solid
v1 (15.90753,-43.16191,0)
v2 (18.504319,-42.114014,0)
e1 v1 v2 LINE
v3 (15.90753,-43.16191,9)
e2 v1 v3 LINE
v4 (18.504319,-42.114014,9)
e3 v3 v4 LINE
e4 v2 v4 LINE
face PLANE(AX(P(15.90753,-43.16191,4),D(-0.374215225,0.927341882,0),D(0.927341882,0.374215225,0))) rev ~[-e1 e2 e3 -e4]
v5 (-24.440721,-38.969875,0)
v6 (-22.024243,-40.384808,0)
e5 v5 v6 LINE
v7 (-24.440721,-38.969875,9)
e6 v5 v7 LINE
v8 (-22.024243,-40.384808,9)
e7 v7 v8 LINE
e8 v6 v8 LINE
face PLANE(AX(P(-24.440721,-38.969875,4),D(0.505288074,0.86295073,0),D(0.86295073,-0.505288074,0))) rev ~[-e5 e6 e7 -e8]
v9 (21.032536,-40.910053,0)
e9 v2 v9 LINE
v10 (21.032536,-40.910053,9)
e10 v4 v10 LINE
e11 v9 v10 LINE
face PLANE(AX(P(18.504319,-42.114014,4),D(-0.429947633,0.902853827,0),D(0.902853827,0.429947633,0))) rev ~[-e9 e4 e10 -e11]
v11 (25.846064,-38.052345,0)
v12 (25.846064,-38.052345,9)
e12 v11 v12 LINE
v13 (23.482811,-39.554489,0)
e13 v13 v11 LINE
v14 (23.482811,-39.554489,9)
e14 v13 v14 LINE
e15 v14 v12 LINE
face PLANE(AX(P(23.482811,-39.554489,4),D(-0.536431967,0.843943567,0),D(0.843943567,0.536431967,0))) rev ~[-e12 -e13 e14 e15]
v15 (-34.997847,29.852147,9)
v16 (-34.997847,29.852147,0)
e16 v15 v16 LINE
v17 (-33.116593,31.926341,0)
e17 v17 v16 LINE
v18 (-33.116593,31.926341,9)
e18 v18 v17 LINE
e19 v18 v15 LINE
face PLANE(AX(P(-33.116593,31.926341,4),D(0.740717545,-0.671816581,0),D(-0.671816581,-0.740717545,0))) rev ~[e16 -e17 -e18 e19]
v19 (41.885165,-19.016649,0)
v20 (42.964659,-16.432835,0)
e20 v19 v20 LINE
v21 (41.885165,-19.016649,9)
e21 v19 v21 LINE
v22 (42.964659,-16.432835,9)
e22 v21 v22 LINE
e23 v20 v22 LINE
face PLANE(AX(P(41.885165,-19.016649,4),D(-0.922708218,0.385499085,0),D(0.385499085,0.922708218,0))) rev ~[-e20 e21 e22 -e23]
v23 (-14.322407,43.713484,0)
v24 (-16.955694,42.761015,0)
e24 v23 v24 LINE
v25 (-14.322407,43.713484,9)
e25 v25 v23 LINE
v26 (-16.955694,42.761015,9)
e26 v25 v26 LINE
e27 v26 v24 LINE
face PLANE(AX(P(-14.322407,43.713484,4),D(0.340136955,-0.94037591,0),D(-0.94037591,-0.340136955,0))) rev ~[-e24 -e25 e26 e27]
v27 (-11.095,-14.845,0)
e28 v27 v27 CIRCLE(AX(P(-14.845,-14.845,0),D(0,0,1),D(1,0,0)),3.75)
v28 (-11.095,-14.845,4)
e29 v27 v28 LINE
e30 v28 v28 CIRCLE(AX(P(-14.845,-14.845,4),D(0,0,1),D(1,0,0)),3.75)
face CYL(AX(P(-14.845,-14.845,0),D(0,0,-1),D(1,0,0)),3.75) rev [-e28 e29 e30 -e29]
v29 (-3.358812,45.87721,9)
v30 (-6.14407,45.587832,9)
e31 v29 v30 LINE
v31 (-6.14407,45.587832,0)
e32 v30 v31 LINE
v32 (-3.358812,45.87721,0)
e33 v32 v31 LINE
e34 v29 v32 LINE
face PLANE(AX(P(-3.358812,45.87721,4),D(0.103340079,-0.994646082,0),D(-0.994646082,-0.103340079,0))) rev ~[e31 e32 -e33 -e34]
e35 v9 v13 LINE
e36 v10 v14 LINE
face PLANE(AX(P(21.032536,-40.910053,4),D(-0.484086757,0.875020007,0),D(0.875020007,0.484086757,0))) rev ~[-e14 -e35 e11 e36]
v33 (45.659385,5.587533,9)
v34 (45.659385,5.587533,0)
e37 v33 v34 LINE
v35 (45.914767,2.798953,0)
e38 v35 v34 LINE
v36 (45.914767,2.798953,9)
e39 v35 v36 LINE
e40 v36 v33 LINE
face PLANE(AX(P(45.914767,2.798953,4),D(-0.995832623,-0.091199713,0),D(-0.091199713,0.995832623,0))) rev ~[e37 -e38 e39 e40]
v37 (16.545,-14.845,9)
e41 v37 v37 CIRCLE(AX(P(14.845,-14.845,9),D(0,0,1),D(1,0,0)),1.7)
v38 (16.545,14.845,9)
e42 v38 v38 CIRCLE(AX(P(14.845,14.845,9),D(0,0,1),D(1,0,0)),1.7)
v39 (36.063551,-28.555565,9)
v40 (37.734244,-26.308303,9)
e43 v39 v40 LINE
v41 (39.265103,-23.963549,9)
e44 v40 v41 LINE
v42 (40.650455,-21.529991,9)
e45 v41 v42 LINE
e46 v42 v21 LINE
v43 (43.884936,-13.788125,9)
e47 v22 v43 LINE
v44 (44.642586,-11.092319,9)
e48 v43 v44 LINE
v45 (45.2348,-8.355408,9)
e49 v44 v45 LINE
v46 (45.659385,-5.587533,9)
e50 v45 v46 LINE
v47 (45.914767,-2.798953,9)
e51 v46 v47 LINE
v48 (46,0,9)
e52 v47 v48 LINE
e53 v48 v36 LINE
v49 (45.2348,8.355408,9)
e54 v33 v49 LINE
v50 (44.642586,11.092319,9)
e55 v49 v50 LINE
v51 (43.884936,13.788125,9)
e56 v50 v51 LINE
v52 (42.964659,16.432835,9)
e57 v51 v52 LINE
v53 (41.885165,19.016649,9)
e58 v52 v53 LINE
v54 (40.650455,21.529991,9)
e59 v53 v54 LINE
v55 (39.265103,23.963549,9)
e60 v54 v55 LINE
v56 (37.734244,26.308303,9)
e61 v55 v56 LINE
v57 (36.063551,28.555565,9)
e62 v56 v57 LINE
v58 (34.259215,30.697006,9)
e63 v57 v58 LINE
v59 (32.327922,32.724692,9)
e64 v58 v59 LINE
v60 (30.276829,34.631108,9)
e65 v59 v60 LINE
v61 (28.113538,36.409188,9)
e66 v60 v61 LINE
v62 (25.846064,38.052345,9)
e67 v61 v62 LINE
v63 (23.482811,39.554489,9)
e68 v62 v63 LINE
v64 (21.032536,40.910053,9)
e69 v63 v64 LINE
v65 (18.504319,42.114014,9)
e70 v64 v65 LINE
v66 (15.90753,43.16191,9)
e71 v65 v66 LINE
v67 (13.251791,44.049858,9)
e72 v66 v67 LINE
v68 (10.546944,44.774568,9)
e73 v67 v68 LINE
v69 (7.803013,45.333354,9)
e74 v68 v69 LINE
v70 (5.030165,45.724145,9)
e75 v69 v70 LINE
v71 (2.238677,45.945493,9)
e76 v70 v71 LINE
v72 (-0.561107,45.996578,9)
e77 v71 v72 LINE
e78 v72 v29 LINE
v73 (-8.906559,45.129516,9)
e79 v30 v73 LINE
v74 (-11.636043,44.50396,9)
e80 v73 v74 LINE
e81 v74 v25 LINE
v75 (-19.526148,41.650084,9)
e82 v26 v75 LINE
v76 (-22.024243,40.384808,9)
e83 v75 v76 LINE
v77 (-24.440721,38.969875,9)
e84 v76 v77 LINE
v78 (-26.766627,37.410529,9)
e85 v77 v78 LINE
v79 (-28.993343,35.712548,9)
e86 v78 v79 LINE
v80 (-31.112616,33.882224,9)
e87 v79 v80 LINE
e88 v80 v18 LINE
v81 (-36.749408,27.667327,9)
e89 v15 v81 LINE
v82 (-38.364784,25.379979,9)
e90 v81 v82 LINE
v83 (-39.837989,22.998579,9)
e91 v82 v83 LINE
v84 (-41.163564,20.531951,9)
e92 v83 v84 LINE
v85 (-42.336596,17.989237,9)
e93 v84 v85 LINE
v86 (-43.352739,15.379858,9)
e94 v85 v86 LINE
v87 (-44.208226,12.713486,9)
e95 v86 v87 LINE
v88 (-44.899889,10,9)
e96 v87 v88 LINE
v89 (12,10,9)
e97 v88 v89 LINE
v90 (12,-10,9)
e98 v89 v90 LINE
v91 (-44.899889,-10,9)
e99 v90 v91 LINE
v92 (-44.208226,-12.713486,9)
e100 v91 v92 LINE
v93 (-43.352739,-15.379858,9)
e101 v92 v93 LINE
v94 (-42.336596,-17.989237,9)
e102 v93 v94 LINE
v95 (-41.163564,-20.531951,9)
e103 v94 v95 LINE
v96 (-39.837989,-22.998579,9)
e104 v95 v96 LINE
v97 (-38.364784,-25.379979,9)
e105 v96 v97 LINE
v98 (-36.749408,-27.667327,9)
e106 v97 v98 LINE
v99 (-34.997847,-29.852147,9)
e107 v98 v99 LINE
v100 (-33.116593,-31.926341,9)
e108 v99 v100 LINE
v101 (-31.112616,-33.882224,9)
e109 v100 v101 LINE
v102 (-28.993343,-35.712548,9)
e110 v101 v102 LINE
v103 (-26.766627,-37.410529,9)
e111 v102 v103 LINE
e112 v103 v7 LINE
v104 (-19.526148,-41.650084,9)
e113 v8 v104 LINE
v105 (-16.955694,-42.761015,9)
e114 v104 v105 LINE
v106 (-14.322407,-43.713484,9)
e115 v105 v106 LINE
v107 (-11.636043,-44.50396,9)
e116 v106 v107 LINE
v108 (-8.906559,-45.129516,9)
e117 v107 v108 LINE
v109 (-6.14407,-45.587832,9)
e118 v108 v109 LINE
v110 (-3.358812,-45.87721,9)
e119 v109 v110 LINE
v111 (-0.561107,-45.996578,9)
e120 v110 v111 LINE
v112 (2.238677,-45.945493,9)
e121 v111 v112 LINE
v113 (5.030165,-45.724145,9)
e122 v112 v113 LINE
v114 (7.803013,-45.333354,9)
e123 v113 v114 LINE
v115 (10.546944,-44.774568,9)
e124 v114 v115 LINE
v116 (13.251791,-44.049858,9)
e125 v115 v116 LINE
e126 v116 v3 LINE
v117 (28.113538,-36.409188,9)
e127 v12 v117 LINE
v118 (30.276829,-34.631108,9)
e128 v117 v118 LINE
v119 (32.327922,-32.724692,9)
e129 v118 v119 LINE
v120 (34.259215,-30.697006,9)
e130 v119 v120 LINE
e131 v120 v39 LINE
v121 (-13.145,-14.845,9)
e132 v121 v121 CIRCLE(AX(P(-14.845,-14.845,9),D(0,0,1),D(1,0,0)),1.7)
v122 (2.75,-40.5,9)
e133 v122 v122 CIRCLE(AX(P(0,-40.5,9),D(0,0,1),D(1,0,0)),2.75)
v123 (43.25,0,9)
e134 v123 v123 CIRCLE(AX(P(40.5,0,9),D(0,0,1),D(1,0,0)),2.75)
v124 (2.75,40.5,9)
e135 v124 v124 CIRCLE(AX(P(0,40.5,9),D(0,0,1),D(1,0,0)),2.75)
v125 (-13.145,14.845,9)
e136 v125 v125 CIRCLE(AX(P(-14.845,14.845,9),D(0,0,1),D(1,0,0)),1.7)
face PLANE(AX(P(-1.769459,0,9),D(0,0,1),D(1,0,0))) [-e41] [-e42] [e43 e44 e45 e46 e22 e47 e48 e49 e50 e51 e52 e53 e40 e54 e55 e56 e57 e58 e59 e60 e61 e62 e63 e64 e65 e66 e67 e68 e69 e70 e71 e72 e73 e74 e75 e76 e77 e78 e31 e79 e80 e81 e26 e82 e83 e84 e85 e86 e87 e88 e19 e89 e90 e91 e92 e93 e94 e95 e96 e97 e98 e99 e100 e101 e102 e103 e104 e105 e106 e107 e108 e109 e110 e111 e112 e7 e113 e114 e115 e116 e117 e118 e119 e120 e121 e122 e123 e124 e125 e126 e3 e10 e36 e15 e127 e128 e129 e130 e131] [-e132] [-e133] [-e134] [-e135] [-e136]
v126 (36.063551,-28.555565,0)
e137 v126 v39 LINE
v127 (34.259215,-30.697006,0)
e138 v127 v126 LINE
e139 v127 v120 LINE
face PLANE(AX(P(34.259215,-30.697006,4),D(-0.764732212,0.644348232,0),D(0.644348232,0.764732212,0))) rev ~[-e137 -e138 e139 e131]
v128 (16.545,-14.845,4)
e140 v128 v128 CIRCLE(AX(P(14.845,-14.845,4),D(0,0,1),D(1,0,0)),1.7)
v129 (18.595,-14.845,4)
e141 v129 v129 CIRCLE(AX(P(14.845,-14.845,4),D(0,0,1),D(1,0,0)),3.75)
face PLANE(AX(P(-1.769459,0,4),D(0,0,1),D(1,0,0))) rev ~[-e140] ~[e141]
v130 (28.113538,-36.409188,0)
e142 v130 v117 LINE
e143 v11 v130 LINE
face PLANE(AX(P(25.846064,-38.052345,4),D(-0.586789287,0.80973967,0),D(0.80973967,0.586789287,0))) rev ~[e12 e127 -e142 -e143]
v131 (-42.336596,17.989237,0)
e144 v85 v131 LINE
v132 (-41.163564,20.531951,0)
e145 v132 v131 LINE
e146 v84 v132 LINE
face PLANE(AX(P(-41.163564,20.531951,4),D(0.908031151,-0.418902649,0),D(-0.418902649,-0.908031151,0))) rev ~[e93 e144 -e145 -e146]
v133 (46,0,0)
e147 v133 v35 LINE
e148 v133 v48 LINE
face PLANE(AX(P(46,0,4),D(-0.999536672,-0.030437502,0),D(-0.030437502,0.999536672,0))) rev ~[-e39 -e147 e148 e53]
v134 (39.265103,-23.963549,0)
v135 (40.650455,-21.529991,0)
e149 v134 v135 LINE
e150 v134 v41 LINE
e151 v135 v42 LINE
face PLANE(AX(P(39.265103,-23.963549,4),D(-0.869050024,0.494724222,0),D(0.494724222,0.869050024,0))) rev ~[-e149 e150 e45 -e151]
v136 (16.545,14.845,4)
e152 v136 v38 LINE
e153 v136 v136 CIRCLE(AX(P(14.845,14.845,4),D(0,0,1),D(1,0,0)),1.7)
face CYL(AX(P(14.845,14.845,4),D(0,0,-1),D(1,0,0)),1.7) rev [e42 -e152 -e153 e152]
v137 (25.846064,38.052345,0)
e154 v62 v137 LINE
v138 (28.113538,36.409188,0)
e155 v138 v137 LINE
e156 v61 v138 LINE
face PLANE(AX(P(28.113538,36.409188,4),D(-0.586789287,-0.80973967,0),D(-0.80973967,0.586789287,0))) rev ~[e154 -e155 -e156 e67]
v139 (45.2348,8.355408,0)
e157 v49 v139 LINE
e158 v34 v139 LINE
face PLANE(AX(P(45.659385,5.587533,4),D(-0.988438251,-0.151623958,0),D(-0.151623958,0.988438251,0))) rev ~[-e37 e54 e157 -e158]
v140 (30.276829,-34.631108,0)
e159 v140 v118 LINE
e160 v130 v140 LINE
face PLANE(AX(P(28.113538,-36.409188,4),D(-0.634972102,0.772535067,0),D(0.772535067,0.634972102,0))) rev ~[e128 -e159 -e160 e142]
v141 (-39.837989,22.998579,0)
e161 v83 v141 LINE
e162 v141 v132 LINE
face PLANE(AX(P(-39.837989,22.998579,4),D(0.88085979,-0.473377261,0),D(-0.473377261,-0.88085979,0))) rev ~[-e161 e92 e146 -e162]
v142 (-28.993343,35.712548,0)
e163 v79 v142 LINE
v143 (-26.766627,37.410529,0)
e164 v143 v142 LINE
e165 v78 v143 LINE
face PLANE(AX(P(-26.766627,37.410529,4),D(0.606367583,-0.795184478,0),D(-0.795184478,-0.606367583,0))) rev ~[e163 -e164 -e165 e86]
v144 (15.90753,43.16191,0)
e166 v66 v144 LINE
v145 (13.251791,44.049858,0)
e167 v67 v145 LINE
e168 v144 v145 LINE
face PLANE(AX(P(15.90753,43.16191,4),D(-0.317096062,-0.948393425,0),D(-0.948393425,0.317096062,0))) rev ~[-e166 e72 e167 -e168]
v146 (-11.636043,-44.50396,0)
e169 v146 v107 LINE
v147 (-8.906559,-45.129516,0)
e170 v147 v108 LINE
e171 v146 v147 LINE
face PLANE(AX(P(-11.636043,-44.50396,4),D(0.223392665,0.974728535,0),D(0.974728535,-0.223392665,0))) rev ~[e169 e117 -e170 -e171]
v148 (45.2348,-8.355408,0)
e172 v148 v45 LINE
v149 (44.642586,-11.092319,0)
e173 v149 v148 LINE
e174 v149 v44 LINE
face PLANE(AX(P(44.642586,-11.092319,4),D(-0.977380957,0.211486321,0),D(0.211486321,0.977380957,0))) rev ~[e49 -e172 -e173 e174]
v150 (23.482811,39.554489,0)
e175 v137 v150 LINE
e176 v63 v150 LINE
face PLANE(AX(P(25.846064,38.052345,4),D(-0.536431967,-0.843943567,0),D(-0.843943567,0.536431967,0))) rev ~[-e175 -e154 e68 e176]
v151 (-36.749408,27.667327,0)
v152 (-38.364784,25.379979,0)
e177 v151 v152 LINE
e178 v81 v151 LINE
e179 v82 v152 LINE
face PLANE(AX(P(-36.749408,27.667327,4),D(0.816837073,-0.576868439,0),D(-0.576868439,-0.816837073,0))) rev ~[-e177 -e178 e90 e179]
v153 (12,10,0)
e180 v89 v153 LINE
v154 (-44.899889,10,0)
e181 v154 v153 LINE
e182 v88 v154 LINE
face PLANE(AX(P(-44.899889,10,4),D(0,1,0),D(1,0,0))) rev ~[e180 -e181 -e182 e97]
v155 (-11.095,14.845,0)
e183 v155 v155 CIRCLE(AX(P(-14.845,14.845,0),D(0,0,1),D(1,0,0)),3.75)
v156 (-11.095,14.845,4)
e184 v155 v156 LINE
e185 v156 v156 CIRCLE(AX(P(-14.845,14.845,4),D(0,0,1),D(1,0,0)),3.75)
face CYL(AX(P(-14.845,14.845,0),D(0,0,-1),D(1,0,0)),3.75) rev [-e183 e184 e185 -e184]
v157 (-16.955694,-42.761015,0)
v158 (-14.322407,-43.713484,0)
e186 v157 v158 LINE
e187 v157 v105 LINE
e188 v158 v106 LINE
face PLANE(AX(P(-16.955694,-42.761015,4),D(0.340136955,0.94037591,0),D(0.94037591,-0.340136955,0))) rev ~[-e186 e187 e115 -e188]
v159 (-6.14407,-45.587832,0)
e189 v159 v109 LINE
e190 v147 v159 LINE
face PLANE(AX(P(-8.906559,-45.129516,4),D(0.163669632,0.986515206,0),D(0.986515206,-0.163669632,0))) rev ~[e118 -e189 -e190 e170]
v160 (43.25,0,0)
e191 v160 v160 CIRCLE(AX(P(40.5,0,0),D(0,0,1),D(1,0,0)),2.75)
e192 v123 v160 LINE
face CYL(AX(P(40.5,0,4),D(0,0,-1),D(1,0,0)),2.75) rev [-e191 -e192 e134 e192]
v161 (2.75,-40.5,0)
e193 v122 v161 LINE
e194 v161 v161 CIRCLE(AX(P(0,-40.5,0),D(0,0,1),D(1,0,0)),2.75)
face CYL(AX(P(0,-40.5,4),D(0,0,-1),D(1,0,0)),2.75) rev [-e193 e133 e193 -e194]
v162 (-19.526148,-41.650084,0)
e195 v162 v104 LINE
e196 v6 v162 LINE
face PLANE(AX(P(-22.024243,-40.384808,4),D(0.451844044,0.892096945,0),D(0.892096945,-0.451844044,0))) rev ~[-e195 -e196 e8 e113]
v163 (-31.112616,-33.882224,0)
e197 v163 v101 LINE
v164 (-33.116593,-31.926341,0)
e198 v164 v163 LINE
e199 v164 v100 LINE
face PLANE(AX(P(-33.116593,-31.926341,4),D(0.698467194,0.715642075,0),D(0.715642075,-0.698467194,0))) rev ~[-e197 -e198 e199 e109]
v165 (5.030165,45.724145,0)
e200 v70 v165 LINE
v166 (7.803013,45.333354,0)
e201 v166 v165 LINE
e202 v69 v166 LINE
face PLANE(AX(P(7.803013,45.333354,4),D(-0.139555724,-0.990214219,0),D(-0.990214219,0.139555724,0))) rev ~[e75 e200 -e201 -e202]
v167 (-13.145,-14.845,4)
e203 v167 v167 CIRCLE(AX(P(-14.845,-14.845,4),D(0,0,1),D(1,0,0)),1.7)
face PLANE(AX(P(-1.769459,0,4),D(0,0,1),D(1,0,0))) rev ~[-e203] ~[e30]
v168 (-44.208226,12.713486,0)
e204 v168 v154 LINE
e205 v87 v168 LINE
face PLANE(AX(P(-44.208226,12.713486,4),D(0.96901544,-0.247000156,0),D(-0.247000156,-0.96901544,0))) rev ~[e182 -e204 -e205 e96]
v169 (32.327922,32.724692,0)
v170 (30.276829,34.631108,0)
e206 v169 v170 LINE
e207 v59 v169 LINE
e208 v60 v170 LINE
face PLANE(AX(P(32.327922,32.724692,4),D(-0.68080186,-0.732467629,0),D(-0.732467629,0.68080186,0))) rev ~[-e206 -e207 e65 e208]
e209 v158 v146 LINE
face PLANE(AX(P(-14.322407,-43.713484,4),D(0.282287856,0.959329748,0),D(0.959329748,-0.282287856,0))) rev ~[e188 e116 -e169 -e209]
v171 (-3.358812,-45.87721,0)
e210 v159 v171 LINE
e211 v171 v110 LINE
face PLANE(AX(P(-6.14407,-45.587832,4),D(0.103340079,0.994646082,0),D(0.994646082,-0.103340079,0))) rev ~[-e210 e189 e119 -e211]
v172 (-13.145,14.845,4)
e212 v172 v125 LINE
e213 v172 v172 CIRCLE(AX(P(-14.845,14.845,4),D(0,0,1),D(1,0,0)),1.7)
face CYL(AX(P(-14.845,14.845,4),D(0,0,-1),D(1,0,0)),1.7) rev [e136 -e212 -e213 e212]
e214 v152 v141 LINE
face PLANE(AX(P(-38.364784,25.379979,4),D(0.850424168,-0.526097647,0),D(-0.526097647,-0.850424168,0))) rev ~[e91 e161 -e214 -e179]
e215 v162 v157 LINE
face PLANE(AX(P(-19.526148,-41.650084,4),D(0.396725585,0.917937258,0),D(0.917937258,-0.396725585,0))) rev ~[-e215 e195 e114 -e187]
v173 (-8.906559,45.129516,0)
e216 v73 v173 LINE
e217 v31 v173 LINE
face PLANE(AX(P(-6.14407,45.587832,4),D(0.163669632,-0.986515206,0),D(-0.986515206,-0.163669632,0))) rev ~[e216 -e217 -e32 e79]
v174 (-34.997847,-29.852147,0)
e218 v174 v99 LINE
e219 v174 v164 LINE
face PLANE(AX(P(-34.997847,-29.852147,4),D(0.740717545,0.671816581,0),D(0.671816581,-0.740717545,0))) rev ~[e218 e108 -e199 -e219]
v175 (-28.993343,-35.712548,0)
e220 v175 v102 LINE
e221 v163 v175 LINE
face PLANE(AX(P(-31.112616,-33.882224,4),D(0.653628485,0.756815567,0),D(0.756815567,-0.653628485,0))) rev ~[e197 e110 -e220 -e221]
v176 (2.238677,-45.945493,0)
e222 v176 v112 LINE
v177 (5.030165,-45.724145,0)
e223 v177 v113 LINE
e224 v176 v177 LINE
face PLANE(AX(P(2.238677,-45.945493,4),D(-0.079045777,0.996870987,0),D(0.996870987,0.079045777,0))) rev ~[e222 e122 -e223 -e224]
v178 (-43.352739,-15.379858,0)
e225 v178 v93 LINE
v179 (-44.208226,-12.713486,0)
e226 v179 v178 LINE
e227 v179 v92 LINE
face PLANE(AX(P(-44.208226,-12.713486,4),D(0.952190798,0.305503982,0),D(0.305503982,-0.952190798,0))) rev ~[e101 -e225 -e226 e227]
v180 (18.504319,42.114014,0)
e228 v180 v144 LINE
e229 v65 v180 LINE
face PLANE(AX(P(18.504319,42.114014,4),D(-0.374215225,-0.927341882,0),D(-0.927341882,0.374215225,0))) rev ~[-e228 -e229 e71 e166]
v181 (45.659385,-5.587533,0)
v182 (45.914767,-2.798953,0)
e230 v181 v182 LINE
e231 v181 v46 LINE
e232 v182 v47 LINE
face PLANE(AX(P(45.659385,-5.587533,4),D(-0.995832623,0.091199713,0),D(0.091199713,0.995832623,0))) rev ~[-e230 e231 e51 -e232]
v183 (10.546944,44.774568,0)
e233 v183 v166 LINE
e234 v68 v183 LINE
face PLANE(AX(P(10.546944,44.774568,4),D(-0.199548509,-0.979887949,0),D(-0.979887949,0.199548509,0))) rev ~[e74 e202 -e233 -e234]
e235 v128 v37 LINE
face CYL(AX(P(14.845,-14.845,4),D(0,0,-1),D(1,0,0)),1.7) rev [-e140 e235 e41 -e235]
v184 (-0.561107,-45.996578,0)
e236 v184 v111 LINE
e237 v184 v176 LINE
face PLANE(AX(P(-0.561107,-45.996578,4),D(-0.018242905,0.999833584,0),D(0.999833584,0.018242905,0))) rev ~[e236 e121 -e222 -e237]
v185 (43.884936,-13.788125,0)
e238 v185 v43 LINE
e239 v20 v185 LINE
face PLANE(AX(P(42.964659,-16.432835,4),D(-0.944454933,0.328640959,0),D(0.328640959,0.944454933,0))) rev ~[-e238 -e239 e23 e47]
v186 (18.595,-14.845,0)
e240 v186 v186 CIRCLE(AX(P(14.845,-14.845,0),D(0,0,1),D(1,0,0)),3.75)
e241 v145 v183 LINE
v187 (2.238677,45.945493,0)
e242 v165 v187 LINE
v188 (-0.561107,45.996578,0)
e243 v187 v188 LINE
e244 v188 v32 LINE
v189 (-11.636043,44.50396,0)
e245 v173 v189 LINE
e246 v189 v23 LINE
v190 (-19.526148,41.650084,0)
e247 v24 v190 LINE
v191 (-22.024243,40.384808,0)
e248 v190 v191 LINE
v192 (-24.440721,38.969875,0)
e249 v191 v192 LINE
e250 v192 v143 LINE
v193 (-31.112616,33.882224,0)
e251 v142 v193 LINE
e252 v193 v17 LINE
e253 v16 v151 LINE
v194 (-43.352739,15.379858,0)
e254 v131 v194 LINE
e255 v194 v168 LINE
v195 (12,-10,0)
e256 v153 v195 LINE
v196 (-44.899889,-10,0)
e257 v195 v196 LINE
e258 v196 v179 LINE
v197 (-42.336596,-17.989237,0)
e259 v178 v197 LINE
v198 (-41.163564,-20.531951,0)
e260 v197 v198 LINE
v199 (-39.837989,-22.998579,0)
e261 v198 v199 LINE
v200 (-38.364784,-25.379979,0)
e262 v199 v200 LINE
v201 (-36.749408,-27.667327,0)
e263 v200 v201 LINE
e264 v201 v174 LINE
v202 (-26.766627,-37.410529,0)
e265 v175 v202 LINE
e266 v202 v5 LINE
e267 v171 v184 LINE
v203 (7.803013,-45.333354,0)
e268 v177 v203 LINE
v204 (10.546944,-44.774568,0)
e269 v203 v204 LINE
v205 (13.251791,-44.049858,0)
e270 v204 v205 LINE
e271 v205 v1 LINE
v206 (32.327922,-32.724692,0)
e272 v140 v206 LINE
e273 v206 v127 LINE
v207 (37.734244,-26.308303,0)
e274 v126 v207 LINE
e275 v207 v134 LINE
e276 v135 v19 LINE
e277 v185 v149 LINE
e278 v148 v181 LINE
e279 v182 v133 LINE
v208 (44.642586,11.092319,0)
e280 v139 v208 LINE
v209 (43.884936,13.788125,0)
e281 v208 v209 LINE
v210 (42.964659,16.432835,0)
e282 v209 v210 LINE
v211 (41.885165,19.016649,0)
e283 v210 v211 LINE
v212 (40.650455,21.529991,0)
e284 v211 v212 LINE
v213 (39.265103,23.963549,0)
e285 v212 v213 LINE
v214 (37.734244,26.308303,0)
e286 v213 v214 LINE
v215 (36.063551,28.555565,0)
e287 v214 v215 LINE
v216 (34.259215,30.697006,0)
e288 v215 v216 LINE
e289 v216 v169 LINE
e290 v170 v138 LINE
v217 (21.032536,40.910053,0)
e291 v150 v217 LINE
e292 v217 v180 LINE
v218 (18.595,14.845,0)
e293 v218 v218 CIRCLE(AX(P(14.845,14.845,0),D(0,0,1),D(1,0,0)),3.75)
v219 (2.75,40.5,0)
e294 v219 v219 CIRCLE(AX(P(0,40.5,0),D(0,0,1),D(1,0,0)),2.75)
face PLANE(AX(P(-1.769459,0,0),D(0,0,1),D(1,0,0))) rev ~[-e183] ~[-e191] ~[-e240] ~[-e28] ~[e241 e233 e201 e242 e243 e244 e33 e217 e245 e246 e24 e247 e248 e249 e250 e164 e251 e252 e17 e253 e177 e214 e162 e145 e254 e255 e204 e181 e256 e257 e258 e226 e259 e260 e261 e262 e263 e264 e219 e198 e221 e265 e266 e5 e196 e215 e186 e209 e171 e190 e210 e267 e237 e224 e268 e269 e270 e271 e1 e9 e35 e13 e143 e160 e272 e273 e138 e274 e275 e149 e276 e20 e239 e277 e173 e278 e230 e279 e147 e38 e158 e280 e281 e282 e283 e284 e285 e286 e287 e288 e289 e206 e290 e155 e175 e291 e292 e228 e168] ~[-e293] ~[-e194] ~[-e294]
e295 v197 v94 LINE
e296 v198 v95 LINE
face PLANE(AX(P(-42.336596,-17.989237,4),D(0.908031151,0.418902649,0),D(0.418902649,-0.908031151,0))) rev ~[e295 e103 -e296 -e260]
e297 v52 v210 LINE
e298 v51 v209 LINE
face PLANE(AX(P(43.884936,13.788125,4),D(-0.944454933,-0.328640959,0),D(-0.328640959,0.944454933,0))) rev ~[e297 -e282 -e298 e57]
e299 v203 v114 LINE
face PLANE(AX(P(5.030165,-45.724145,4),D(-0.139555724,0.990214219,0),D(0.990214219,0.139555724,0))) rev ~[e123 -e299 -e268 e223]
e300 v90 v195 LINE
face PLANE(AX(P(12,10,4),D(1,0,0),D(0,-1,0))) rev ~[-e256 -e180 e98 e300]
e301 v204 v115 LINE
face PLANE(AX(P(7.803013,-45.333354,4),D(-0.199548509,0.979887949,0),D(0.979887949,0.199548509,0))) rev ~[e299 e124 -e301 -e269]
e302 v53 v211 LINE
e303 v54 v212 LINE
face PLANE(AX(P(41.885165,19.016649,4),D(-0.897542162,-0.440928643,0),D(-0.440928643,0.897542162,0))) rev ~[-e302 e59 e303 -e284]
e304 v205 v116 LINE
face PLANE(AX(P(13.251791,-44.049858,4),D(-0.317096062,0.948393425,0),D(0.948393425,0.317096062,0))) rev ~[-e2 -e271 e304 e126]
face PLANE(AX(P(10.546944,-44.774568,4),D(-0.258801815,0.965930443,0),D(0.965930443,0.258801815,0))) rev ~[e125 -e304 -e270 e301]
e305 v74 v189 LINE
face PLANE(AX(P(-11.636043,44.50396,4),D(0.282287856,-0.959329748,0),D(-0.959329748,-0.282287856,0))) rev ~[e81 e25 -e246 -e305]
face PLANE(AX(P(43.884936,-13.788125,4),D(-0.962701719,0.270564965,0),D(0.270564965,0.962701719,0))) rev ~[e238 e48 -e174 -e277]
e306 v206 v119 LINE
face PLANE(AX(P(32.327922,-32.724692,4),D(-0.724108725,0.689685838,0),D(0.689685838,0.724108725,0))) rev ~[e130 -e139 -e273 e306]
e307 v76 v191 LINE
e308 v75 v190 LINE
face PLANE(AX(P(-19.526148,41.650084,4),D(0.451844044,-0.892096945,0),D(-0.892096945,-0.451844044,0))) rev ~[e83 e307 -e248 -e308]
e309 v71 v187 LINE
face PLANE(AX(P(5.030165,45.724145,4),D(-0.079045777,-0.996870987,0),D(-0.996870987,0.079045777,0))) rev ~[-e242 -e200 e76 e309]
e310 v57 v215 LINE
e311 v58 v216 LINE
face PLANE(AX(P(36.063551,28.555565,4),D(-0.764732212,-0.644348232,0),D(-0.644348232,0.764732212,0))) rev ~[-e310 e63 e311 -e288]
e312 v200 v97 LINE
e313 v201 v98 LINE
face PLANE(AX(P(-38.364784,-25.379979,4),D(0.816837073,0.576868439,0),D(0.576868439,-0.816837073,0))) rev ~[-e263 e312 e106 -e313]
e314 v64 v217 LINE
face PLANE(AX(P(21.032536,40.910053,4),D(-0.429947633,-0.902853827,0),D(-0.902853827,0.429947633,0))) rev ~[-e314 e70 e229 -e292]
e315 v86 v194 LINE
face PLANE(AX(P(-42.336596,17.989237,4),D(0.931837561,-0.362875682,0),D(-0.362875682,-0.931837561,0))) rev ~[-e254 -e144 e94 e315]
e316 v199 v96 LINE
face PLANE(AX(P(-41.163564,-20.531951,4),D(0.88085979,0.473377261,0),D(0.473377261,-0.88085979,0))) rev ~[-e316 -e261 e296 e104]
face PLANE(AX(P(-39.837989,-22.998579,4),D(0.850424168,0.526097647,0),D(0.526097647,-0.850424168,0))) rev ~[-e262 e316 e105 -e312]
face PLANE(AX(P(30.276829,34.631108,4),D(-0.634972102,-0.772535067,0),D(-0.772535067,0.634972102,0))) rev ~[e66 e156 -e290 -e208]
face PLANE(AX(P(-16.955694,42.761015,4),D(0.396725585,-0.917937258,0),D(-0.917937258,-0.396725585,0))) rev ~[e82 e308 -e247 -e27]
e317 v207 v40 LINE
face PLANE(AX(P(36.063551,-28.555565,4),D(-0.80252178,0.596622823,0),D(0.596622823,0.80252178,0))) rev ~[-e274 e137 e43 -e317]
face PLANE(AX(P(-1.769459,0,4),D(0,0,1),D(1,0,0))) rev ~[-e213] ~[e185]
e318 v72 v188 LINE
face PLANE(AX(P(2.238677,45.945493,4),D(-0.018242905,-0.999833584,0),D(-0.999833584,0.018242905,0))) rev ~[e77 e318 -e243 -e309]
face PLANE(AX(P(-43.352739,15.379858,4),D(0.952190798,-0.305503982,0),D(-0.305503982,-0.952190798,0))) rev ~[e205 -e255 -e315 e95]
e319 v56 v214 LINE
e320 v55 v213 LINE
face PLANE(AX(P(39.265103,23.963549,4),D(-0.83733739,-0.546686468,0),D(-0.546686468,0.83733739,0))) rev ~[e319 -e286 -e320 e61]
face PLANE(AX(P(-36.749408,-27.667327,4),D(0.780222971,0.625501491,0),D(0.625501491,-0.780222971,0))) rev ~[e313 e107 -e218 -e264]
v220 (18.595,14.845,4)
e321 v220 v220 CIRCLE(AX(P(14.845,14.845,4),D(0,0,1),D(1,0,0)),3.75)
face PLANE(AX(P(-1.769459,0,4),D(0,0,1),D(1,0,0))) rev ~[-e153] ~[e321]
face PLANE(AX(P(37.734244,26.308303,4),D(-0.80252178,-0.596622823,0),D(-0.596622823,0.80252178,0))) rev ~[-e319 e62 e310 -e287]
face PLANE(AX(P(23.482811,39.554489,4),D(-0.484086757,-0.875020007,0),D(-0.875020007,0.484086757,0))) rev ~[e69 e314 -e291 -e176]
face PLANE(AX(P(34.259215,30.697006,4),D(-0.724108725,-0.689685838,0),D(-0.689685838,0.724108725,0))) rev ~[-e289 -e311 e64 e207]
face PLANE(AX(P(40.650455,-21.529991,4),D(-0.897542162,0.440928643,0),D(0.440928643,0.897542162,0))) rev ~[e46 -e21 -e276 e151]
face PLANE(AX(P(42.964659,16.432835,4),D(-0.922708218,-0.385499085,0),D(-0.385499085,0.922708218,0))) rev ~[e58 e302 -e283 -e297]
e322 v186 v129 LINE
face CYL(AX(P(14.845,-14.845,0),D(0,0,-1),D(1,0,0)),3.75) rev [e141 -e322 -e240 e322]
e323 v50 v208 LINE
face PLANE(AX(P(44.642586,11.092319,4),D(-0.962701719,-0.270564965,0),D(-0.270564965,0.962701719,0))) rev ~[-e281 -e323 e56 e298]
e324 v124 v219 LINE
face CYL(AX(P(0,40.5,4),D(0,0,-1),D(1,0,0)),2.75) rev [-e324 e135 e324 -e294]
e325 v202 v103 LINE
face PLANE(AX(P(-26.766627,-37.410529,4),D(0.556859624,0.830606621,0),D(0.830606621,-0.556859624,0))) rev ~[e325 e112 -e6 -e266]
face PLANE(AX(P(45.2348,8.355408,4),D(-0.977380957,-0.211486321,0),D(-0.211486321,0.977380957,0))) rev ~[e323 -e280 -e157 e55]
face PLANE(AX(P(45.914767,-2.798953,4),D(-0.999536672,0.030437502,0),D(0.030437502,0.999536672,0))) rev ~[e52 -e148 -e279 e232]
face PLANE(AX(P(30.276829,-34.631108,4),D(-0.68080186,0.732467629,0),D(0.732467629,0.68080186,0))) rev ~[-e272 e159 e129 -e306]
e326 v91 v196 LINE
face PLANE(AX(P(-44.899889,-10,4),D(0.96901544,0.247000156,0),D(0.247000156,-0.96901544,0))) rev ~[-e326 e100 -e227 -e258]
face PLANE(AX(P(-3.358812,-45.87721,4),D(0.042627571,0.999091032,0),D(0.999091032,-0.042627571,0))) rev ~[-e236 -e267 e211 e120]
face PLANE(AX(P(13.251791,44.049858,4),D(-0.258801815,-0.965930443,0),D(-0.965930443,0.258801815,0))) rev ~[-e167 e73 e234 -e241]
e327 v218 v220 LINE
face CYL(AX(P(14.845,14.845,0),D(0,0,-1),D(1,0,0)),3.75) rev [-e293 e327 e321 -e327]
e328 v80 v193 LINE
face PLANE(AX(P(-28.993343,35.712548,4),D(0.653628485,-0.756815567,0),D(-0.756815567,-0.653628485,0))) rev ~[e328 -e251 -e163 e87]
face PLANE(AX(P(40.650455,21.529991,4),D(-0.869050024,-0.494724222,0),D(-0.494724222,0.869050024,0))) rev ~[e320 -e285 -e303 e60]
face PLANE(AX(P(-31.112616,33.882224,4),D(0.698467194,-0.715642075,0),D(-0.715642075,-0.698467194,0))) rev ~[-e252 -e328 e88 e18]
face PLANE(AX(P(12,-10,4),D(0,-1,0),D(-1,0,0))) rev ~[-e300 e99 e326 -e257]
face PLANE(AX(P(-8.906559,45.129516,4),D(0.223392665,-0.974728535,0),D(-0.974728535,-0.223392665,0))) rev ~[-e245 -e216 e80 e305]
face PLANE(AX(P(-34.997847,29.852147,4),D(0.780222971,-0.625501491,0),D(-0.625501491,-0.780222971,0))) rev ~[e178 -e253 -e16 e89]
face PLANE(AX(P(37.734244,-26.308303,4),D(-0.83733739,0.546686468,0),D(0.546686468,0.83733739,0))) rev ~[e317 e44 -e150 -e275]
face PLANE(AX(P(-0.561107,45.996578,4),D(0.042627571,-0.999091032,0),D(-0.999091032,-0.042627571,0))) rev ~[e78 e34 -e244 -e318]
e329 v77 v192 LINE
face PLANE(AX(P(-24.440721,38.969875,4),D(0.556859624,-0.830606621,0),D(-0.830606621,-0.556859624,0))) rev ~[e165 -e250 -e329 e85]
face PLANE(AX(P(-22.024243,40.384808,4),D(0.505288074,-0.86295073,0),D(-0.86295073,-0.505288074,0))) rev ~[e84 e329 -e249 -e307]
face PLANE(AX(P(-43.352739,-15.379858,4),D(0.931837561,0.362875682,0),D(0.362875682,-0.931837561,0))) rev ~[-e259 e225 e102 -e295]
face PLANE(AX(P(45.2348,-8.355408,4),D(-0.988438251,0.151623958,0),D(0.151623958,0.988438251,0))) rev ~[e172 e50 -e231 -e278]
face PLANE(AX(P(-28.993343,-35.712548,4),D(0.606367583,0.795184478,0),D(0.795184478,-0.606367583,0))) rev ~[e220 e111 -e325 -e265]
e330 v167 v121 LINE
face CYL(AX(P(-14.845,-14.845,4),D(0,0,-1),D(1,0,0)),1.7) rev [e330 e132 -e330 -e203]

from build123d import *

# Parameters (mm, degrees)
SKETCH_1_R        = 3.75
SKETCH_1_R_2      = 2.75
EXTRUDE_422_DEPTH = 4
EXTRUDE_START     = 4
SKETCH_2_R        = 1.7
SKETCH_2_R_2      = 2.75
EXTRUDE_698_DEPTH = 5


with BuildPart() as part:
    # 草图1 → Extrude 422 (new body)
    with BuildSketch(Plane.XY):
        Polygon((-44.899888641, -10), (-44.2082264, -12.713485699), (-43.352738806, -15.379858192), (-42.336596099, -17.989236526), (-41.163563864, -20.531950955), (-39.837989085, -22.998578775), (-38.364784033, -25.379979238), (-36.74940806, -27.667327432), (-34.997847373, -29.852146979), (-33.116592846, -31.926341448), (-31.112615968, -33.882224361), (-28.993343009, -35.712547671), (-26.7666275, -37.410528629), (-24.440721127, -38.969874914), (-22.024243155, -40.384807953), (-19.526148488, -41.650084336), (-16.955694479, -42.761015244), (-14.322406631, -43.713483827), (-11.636043292, -44.503960459), (-8.906559497, -45.129515818), (-6.144070075, -45.587831742), (-3.358812166, -45.87720982), (-0.561107284, -45.996577684), (2.238676931, -45.945492985), (5.030165132, -45.72414503), (7.803012717, -45.333354084), (10.546944161, -44.774568327), (13.251791096, -44.049858487), (15.907529991, -43.161910171), (18.504319299, -42.114013906), (21.032535927, -40.910052952), (23.482810893, -39.554488905), (25.846064052, -38.052345171), (28.11353774, -36.409188342), (30.276829231, -34.631107573), (32.327921871, -32.724692016), (34.25921479, -30.697006401), (36.063551069, -28.555564857), (37.734244259, -26.308303066), (39.265103162, -23.963548854), (40.650454772, -21.529991333), (41.885165301, -19.016648698), (42.9646592, -16.432834808), (43.884936117, -13.788124675), (44.64258572, -11.092318975), (45.234800338, -8.355407734), (45.659385361, -5.587533306), (45.914767377, -2.798952785), (46, 0), (45.914767377, 2.798952785), (45.659385361, 5.587533306), (45.234800338, 8.355407734), (44.64258572, 11.092318975), (43.884936117, 13.788124675), (42.9646592, 16.432834808), (41.885165301, 19.016648698), (40.650454772, 21.529991333), (39.265103162, 23.963548854), (37.734244259, 26.308303066), (36.063551069, 28.555564857), (34.25921479, 30.697006401), (32.327921871, 32.724692016), (30.276829231, 34.631107573), (28.11353774, 36.409188342), (25.846064052, 38.052345171), (23.482810893, 39.554488905), (21.032535927, 40.910052952), (18.504319299, 42.114013906), (15.907529991, 43.161910171), (13.251791096, 44.049858487), (10.546944161, 44.774568327), (7.803012717, 45.333354084), (5.030165132, 45.72414503), (2.238676931, 45.945492985), (-0.561107284, 45.996577684), (-3.358812166, 45.87720982), (-6.144070075, 45.587831742), (-8.906559497, 45.129515818), (-11.636043292, 44.503960459), (-14.322406631, 43.713483827), (-16.955694479, 42.761015244), (-19.526148488, 41.650084336), (-22.024243155, 40.384807953), (-24.440721127, 38.969874914), (-26.7666275, 37.410528629), (-28.993343009, 35.712547671), (-31.112615968, 33.882224361), (-33.116592846, 31.926341448), (-34.997847373, 29.852146979), (-36.74940806, 27.667327432), (-38.364784033, 25.379979238), (-39.837989085, 22.998578775), (-41.163563864, 20.531950955), (-42.336596099, 17.989236526), (-43.352738806, 15.379858192), (-44.2082264, 12.713485699), (-44.899888641, 10), (12, 10), (12, -10), align=None)
        with Locations((-14.845, -14.845)):
            Circle(SKETCH_1_R, mode=Mode.SUBTRACT)
        with Locations((-14.845, 14.845)):
            Circle(SKETCH_1_R, mode=Mode.SUBTRACT)
        with Locations((14.845, -14.845)):
            Circle(SKETCH_1_R, mode=Mode.SUBTRACT)
        with Locations((14.845, 14.845)):
            Circle(SKETCH_1_R, mode=Mode.SUBTRACT)
        with Locations((0, -40.5)):
            Circle(SKETCH_1_R_2, mode=Mode.SUBTRACT)
        with Locations((0, 40.5)):
            Circle(SKETCH_1_R_2, mode=Mode.SUBTRACT)
        with Locations((40.5, 0)):
            Circle(SKETCH_1_R_2, mode=Mode.SUBTRACT)
    extrude(amount=EXTRUDE_422_DEPTH)

    # 草图2 → Extrude 698 (add)
    with BuildSketch(Plane.XY.offset(EXTRUDE_START)):
        Polygon((-44.899888641, -10), (-44.2082264, -12.713485699), (-43.352738806, -15.379858192), (-42.336596099, -17.989236526), (-41.163563864, -20.531950955), (-39.837989085, -22.998578775), (-38.364784033, -25.379979238), (-36.74940806, -27.667327432), (-34.997847373, -29.852146979), (-33.116592846, -31.926341448), (-31.112615968, -33.882224361), (-28.993343009, -35.712547671), (-26.7666275, -37.410528629), (-24.440721127, -38.969874914), (-22.024243155, -40.384807953), (-19.526148488, -41.650084336), (-16.955694479, -42.761015244), (-14.322406631, -43.713483827), (-11.636043292, -44.503960459), (-8.906559497, -45.129515818), (-6.144070075, -45.587831742), (-3.358812166, -45.87720982), (-0.561107284, -45.996577684), (2.238676931, -45.945492985), (5.030165132, -45.72414503), (7.803012717, -45.333354084), (10.546944161, -44.774568327), (13.251791096, -44.049858487), (15.907529991, -43.161910171), (18.504319299, -42.114013906), (21.032535927, -40.910052952), (23.482810893, -39.554488905), (25.846064052, -38.052345171), (28.11353774, -36.409188342), (30.276829231, -34.631107573), (32.327921871, -32.724692016), (34.25921479, -30.697006401), (36.063551069, -28.555564857), (37.734244259, -26.308303066), (39.265103162, -23.963548854), (40.650454772, -21.529991333), (41.885165301, -19.016648698), (42.9646592, -16.432834808), (43.884936117, -13.788124675), (44.64258572, -11.092318975), (45.234800338, -8.355407734), (45.659385361, -5.587533306), (45.914767377, -2.798952785), (46, 0), (45.914767377, 2.798952785), (45.659385361, 5.587533306), (45.234800338, 8.355407734), (44.64258572, 11.092318975), (43.884936117, 13.788124675), (42.9646592, 16.432834808), (41.885165301, 19.016648698), (40.650454772, 21.529991333), (39.265103162, 23.963548854), (37.734244259, 26.308303066), (36.063551069, 28.555564857), (34.25921479, 30.697006401), (32.327921871, 32.724692016), (30.276829231, 34.631107573), (28.11353774, 36.409188342), (25.846064052, 38.052345171), (23.482810893, 39.554488905), (21.032535927, 40.910052952), (18.504319299, 42.114013906), (15.907529991, 43.161910171), (13.251791096, 44.049858487), (10.546944161, 44.774568327), (7.803012717, 45.333354084), (5.030165132, 45.72414503), (2.238676931, 45.945492985), (-0.561107284, 45.996577684), (-3.358812166, 45.87720982), (-6.144070075, 45.587831742), (-8.906559497, 45.129515818), (-11.636043292, 44.503960459), (-14.322406631, 43.713483827), (-16.955694479, 42.761015244), (-19.526148488, 41.650084336), (-22.024243155, 40.384807953), (-24.440721127, 38.969874914), (-26.7666275, 37.410528629), (-28.993343009, 35.712547671), (-31.112615968, 33.882224361), (-33.116592846, 31.926341448), (-34.997847373, 29.852146979), (-36.74940806, 27.667327432), (-38.364784033, 25.379979238), (-39.837989085, 22.998578775), (-41.163563864, 20.531950955), (-42.336596099, 17.989236526), (-43.352738806, 15.379858192), (-44.2082264, 12.713485699), (-44.899888641, 10), (12, 10), (12, -10), align=None)
        with Locations((-14.845, -14.845)):
            Circle(SKETCH_2_R, mode=Mode.SUBTRACT)
        with Locations((-14.845, 14.845)):
            Circle(SKETCH_2_R, mode=Mode.SUBTRACT)
        with Locations((14.845, -14.845)):
            Circle(SKETCH_2_R, mode=Mode.SUBTRACT)
        with Locations((14.845, 14.845)):
            Circle(SKETCH_2_R, mode=Mode.SUBTRACT)
        with Locations((0, -40.5)):
            Circle(SKETCH_2_R_2, mode=Mode.SUBTRACT)
        with Locations((0, 40.5)):
            Circle(SKETCH_2_R_2, mode=Mode.SUBTRACT)
        with Locations((40.5, 0)):
            Circle(SKETCH_2_R_2, mode=Mode.SUBTRACT)
    extrude(amount=EXTRUDE_698_DEPTH)


solid = part.part
